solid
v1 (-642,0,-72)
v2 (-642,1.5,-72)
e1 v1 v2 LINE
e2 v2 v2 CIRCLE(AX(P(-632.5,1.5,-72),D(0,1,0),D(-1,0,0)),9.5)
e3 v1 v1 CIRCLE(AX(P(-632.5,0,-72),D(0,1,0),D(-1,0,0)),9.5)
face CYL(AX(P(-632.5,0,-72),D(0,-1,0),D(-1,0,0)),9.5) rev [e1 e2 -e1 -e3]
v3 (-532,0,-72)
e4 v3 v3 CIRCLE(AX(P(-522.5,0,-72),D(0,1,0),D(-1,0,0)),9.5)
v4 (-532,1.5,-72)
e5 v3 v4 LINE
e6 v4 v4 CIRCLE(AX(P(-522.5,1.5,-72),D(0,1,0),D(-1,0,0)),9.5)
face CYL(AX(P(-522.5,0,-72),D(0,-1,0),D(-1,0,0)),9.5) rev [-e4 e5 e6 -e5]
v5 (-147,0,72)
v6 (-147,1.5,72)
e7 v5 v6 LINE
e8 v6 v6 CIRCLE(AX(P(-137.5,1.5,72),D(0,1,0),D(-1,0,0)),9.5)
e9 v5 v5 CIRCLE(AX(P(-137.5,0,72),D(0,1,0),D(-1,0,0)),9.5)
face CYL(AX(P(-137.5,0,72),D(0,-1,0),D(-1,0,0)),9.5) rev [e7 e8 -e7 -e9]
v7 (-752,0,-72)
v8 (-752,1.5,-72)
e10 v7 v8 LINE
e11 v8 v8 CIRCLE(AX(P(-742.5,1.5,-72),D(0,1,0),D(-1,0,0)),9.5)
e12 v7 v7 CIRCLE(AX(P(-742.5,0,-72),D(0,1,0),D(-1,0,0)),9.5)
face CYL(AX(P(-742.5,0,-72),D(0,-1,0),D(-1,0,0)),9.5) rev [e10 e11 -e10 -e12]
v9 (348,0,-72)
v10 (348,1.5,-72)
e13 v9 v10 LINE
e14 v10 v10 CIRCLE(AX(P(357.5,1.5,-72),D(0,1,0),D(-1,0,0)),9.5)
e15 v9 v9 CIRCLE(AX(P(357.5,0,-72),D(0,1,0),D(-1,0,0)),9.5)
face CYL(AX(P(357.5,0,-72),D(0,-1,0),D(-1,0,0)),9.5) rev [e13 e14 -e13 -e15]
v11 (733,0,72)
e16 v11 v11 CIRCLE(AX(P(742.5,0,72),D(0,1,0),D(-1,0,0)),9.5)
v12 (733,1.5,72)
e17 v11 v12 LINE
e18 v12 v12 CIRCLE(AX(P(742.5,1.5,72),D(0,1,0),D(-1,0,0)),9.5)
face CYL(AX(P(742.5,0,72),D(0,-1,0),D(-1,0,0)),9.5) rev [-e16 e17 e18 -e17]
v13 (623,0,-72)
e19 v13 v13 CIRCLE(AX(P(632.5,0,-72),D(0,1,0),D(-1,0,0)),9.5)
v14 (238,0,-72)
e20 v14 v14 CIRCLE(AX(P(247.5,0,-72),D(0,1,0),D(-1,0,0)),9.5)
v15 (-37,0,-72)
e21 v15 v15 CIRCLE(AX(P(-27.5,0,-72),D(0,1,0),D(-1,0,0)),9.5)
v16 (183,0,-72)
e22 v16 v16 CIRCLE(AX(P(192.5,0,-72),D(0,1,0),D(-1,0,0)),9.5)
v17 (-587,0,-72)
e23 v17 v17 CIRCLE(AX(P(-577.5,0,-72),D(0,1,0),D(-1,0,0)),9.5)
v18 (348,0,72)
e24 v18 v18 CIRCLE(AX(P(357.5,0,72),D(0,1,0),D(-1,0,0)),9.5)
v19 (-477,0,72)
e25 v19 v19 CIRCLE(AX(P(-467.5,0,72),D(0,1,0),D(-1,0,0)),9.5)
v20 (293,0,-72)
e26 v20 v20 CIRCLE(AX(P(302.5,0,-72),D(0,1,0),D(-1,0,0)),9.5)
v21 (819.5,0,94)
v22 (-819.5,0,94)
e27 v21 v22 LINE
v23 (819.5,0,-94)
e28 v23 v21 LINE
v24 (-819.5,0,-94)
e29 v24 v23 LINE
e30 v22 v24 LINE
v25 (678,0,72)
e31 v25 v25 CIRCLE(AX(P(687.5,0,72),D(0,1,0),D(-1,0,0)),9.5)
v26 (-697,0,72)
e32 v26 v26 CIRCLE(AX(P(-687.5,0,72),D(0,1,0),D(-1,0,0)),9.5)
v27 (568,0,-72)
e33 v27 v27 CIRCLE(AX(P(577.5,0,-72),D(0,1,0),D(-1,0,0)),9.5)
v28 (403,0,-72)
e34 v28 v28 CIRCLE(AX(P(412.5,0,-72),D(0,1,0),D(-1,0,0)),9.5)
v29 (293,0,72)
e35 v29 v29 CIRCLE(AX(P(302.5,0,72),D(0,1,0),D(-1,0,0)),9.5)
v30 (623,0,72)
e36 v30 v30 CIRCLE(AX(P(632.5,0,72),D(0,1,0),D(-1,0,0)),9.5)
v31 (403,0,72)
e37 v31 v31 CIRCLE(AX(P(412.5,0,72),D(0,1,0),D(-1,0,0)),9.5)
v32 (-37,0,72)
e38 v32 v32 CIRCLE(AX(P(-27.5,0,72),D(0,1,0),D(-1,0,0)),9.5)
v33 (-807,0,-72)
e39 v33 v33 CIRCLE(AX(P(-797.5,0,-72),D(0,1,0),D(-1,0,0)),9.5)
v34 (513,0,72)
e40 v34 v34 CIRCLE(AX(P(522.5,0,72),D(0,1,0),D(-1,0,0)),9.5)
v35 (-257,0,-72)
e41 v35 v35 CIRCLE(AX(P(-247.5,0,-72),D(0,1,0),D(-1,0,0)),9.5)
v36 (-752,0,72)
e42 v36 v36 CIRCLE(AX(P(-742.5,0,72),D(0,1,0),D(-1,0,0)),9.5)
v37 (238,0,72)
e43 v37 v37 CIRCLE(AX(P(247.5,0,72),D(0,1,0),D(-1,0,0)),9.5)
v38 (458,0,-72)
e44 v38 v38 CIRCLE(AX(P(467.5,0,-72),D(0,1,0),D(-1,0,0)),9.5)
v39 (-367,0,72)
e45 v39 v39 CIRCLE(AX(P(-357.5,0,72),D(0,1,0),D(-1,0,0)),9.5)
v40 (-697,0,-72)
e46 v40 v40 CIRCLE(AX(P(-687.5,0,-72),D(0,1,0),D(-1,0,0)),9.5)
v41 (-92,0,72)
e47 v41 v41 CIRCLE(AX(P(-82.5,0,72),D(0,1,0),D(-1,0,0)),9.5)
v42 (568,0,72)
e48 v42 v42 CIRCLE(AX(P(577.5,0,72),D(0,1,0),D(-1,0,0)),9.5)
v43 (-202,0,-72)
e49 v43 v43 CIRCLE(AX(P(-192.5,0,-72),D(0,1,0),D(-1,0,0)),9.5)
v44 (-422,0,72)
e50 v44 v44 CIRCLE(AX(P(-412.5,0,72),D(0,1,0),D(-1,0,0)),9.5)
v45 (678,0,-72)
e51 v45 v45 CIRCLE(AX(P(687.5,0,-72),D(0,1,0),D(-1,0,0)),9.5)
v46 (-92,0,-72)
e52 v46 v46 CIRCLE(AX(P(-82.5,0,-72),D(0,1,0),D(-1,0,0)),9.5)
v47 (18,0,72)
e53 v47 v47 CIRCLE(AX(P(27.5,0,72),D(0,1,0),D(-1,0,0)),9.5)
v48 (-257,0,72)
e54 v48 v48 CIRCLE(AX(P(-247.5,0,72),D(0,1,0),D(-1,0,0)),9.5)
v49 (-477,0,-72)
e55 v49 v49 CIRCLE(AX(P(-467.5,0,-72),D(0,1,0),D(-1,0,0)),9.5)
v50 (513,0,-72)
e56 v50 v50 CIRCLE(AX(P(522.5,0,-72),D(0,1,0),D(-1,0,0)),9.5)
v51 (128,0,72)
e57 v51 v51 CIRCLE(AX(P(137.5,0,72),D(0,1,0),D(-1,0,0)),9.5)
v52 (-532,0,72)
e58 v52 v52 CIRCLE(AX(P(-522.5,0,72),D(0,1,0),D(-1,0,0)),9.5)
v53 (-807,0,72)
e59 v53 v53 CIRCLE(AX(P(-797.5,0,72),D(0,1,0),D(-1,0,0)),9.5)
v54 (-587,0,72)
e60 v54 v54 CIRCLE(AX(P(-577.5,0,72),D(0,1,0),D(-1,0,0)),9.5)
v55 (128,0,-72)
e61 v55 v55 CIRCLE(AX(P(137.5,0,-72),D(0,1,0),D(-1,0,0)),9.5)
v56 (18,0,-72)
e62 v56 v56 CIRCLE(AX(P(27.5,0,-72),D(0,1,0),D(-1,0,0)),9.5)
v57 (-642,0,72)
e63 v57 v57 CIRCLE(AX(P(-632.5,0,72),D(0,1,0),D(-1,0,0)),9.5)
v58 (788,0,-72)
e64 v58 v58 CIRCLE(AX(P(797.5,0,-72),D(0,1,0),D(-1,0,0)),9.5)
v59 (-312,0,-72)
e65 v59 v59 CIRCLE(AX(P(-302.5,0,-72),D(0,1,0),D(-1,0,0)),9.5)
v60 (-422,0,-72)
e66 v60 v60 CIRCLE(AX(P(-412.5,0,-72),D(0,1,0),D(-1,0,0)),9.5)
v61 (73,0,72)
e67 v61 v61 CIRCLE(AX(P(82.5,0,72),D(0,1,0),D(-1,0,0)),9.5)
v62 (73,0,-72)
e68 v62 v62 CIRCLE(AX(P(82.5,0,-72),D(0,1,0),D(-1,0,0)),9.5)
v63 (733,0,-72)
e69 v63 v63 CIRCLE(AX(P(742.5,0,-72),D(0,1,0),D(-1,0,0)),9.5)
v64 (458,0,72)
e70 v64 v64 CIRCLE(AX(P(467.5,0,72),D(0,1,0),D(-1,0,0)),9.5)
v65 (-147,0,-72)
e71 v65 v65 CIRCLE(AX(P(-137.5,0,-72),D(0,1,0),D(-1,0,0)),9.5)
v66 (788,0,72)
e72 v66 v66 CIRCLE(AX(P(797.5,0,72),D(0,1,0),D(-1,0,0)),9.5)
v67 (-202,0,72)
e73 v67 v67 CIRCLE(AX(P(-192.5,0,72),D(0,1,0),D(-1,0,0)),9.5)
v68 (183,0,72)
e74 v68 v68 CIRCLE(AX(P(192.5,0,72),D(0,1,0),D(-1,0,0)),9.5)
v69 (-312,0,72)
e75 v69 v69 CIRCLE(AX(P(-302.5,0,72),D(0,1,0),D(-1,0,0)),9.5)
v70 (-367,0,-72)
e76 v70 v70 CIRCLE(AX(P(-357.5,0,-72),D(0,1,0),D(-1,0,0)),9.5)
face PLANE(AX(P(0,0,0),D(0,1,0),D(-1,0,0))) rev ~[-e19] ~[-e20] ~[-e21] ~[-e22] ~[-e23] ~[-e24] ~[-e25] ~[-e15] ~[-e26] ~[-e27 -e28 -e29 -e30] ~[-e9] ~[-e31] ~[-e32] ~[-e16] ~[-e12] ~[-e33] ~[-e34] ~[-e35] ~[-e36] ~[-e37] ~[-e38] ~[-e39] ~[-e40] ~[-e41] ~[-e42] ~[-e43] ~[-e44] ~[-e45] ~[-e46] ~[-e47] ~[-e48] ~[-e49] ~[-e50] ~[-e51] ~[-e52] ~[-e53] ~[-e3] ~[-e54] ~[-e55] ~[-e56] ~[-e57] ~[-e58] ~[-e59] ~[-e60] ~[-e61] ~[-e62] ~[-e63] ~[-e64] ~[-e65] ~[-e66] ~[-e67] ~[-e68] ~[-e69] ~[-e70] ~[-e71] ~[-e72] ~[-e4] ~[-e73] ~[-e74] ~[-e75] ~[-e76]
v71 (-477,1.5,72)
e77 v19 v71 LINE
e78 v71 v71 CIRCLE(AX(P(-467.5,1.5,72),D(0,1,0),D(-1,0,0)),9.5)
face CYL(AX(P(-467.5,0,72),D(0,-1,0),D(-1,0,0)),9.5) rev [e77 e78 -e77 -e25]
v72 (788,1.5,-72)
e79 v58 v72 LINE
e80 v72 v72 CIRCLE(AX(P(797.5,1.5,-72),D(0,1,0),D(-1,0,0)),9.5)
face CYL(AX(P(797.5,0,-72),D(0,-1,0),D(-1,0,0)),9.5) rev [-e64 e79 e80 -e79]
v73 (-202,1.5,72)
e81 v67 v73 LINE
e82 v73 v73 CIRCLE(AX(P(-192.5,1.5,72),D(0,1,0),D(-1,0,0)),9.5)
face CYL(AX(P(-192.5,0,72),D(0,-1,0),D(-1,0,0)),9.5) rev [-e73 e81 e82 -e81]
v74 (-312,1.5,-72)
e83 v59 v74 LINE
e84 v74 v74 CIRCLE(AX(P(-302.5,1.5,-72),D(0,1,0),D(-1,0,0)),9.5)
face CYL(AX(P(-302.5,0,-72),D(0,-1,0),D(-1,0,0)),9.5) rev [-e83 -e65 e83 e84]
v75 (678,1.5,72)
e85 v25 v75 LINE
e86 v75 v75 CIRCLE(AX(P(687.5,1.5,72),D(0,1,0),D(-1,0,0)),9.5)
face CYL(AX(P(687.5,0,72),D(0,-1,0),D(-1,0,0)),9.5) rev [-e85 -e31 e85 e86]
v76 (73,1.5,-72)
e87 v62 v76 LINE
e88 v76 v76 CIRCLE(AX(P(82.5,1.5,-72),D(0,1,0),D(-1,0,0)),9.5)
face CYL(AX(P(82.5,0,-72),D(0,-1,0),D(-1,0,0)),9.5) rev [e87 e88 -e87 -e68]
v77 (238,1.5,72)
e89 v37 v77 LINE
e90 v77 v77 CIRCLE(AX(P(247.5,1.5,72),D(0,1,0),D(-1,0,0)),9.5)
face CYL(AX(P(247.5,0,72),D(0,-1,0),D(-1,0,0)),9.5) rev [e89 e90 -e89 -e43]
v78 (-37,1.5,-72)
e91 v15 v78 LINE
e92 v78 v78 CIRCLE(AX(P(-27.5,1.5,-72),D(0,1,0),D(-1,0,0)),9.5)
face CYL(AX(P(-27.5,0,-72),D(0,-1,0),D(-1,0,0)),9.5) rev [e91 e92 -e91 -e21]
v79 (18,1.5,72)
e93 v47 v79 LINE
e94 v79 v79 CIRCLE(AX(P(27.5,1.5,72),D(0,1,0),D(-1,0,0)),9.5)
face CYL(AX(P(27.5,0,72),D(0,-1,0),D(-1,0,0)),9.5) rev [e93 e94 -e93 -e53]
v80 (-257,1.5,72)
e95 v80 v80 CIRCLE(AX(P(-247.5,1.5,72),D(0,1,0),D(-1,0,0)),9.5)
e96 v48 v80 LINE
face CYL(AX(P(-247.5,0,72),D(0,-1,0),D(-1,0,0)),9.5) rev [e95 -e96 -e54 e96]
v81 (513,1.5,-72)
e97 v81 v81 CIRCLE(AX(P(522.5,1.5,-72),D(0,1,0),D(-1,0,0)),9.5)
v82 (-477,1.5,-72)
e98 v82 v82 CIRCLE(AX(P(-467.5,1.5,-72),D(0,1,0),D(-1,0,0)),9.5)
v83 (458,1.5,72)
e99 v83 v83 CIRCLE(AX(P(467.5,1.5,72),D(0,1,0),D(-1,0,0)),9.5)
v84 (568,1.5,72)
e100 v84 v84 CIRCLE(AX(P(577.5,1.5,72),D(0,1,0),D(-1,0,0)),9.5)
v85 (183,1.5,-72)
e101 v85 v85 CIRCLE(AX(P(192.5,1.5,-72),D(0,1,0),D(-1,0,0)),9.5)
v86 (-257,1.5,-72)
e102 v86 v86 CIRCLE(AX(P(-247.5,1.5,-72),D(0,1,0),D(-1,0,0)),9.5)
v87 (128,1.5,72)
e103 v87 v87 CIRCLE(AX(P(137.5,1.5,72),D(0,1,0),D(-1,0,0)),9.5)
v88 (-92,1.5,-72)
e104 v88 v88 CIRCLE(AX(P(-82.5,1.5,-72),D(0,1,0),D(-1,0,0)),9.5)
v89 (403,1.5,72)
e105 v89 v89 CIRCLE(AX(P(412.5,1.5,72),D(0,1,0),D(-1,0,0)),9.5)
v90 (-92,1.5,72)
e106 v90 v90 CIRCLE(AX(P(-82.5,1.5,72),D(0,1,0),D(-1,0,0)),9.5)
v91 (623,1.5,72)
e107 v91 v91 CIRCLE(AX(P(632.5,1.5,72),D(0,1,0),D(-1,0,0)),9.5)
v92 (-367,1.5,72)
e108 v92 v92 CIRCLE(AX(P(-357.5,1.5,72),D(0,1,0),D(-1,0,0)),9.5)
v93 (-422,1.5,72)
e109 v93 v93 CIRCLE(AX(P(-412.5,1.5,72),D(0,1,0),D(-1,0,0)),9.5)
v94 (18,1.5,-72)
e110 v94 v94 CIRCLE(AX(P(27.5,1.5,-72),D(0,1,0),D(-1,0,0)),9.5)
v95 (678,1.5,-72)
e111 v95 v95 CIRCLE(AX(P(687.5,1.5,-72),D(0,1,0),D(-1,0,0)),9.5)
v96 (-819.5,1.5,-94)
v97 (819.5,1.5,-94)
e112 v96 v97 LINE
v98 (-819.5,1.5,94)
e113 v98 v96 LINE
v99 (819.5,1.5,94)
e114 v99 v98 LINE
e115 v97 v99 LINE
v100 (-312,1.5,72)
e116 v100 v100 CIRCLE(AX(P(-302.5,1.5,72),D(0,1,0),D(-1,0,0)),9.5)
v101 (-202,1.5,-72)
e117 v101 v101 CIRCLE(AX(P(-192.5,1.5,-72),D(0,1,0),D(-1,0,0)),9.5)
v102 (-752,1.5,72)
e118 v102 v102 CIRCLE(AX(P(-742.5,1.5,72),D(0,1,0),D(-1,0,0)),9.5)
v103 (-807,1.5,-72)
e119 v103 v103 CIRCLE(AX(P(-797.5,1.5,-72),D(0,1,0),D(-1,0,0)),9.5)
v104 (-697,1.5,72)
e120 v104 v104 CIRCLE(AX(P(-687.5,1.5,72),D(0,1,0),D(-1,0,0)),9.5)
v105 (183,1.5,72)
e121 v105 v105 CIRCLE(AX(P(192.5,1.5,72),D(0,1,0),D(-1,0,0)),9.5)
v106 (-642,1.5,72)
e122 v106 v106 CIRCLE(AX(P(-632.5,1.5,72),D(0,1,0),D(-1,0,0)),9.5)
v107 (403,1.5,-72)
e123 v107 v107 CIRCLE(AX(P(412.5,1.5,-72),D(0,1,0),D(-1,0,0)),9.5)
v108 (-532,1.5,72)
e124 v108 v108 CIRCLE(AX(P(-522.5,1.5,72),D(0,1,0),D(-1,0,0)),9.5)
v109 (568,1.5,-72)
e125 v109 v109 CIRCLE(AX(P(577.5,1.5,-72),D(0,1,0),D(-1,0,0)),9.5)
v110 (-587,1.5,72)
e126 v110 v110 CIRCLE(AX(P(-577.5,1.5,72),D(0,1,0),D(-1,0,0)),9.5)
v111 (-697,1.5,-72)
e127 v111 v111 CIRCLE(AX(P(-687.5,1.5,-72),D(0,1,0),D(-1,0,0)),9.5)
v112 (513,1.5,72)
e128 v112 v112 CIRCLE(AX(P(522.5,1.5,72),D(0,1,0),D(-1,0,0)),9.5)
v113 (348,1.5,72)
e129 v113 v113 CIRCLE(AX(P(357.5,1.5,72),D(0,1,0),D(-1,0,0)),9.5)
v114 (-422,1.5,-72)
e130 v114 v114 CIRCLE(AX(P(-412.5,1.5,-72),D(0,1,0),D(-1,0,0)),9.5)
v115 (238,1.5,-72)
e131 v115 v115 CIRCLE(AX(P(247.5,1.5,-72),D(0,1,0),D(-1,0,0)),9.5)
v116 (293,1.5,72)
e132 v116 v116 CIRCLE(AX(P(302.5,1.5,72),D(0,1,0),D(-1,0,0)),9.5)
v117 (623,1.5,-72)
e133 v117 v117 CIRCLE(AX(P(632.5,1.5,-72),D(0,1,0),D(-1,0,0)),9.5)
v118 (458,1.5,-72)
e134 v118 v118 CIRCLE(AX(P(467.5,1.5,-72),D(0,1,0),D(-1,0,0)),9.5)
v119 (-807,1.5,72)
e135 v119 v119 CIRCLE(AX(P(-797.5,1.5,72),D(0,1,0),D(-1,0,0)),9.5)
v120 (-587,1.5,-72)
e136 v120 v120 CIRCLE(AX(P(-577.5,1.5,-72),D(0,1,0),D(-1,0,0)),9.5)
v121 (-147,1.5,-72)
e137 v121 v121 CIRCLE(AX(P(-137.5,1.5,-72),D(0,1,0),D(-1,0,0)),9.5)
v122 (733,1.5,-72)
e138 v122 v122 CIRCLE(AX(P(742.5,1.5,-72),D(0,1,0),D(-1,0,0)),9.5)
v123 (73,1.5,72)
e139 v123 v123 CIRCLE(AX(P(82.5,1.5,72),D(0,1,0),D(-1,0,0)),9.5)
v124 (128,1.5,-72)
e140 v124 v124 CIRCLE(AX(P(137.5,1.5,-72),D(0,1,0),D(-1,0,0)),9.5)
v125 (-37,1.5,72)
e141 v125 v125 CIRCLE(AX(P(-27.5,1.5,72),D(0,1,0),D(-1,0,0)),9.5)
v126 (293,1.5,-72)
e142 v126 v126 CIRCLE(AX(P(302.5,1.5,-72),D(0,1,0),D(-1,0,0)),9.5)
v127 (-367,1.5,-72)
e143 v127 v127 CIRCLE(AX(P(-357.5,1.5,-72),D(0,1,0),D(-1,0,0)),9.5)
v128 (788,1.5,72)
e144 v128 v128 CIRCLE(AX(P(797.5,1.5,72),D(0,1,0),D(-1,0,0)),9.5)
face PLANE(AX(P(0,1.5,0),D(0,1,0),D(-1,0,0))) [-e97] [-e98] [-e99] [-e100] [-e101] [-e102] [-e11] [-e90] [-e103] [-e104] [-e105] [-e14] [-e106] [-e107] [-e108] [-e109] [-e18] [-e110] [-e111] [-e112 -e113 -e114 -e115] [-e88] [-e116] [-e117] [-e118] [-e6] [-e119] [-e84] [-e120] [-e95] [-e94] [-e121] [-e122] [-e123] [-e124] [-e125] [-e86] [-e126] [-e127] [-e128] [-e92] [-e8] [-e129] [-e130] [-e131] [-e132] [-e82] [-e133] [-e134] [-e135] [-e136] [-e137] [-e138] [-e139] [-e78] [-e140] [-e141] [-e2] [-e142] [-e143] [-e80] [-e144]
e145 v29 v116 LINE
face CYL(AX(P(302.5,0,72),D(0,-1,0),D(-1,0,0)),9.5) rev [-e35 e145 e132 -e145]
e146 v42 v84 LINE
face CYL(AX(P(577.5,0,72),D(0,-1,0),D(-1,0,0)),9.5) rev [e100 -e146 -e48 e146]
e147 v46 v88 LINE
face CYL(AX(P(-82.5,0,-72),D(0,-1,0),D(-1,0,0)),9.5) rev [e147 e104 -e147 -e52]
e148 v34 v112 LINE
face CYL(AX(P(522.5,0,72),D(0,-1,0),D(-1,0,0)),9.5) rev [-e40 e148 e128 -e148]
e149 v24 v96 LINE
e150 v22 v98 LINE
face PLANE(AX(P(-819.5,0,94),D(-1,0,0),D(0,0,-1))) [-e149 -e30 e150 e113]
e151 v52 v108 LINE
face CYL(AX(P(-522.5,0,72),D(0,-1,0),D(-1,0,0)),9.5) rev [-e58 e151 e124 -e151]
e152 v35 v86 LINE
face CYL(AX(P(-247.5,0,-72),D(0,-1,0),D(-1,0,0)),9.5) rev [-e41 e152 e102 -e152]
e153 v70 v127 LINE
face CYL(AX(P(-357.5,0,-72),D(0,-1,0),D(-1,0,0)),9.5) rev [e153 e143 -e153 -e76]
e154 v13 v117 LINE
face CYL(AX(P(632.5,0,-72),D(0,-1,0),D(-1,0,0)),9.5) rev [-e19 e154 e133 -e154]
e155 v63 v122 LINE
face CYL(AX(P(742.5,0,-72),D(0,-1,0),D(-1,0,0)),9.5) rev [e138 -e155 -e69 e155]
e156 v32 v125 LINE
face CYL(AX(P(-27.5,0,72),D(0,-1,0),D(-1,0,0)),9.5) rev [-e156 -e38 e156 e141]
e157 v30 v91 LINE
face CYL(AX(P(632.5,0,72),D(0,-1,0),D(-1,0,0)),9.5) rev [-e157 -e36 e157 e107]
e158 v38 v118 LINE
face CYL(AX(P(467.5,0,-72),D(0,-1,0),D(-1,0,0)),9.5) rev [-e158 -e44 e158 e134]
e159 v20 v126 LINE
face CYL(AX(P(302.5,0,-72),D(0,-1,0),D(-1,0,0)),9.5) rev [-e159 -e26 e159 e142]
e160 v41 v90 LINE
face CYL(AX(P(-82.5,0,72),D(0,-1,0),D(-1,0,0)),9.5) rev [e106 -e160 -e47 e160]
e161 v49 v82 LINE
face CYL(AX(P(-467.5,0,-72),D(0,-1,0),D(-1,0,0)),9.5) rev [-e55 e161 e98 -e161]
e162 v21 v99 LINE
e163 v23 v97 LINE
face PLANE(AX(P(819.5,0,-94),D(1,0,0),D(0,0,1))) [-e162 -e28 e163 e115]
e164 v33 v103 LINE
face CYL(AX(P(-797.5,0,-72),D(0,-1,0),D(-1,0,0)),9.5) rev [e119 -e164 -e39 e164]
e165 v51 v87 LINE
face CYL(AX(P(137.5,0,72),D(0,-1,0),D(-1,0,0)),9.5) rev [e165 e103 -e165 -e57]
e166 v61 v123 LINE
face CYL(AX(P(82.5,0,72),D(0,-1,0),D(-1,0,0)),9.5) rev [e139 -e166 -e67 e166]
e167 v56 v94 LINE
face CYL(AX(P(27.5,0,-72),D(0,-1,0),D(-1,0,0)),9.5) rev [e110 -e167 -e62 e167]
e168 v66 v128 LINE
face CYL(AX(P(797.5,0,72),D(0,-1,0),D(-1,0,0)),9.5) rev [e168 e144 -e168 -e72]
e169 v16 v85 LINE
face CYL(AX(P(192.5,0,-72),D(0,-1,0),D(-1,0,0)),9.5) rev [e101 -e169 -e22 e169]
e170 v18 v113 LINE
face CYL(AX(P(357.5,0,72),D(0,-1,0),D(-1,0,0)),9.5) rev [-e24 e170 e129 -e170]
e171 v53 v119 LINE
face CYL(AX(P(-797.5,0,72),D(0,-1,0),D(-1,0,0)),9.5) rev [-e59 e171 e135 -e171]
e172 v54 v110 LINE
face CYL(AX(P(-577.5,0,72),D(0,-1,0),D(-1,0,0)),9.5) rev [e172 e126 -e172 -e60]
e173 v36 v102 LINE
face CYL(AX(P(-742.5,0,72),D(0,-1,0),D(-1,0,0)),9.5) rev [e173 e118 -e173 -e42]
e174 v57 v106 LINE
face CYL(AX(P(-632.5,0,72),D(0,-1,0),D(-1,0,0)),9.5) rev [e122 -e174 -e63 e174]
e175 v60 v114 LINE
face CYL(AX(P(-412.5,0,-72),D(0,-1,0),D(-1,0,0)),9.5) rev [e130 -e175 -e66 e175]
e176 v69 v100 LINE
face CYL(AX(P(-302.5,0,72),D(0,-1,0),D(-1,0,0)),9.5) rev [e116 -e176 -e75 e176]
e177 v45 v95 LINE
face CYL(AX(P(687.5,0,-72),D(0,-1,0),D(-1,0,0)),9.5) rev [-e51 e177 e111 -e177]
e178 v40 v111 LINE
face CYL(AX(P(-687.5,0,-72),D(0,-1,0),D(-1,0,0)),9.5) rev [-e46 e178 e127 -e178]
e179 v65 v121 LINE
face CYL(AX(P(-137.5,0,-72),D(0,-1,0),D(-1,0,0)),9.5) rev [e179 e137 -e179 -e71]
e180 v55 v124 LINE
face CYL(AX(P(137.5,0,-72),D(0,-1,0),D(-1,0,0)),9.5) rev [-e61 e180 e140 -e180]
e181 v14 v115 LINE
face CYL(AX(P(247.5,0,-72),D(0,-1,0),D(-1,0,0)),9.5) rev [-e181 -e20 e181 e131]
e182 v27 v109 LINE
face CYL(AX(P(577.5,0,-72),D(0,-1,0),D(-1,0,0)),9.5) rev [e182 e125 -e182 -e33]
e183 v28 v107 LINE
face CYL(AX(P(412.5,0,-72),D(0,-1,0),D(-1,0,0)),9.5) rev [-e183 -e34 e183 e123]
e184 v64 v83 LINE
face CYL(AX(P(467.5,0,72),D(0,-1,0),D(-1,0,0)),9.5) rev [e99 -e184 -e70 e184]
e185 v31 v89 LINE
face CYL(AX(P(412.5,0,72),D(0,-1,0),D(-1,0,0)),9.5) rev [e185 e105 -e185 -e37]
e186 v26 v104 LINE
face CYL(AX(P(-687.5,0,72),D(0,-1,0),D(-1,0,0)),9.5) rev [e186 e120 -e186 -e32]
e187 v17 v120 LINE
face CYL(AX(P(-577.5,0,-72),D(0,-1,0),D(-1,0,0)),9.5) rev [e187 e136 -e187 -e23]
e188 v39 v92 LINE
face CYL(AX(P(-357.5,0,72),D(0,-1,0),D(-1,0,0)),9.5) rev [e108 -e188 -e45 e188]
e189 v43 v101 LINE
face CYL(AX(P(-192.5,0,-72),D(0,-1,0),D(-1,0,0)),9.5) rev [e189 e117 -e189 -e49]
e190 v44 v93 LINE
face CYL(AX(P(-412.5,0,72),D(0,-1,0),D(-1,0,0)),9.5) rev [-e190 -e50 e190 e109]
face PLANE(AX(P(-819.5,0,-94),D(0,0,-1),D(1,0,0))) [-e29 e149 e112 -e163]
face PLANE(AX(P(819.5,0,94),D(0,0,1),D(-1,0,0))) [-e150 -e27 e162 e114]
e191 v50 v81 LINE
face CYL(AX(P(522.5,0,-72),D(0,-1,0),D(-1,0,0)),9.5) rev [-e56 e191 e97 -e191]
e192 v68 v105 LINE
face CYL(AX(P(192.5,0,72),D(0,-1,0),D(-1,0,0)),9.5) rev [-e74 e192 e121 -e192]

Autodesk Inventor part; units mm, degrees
ref_plane "YZ Plane" through (0, 0, 0) normal (1, 0, 0) x (0, 1, 0)
ref_plane "XZ Plane" through (0, 0, 0) normal (0, 1, 0) x (-1, 0, 0)
ref_plane "XY Plane" through (0, 0, 0) normal (0, 0, 1) x (1, 0, 0)
sketch "Foam Scheme" plane through (0, 0, 0) normal (0, 1, 0) x (-1, 0, 0)
  line L0 (819.5, -94) -> (-819.5, -94)
  line L1 (-819.5, -94) -> (-819.5, 94)
  line L2 (-819.5, 94) -> (819.5, 94)
  line L3 (819.5, 94) -> (819.5, -94)
  circle A0 centre (797.5, -72) radius 9.5
  circle A1 centre (742.5, -72) radius 9.5
  circle A2 centre (687.5, -72) radius 9.5
  circle A3 centre (632.5, -72) radius 9.5
  circle A4 centre (577.5, -72) radius 9.5
  circle A5 centre (522.5, -72) radius 9.5
  circle A6 centre (467.5, -72) radius 9.5
  circle A7 centre (412.5, -72) radius 9.5
  circle A8 centre (357.5, -72) radius 9.5
  circle A9 centre (302.5, -72) radius 9.5
  circle A10 centre (247.5, -72) radius 9.5
  circle A11 centre (192.5, -72) radius 9.5
  circle A12 centre (137.5, -72) radius 9.5
  circle A13 centre (82.5, -72) radius 9.5
  circle A14 centre (27.5, -72) radius 9.5
  circle A15 centre (-27.5, -72) radius 9.5
  circle A16 centre (-82.5, -72) radius 9.5
  circle A17 centre (-137.5, -72) radius 9.5
  circle A18 centre (797.5, 72) radius 9.5
  circle A19 centre (742.5, 72) radius 9.5
  circle A20 centre (687.5, 72) radius 9.5
  circle A21 centre (632.5, 72) radius 9.5
  circle A22 centre (577.5, 72) radius 9.5
  circle A23 centre (522.5, 72) radius 9.5
  circle A24 centre (467.5, 72) radius 9.5
  circle A25 centre (412.5, 72) radius 9.5
  circle A26 centre (357.5, 72) radius 9.5
  circle A27 centre (302.5, 72) radius 9.5
  circle A28 centre (247.5, 72) radius 9.5
  circle A29 centre (192.5, 72) radius 9.5
  circle A30 centre (137.5, 72) radius 9.5
  circle A31 centre (82.5, 72) radius 9.5
  circle A32 centre (27.5, 72) radius 9.5
  circle A33 centre (-27.5, 72) radius 9.5
  circle A34 centre (-82.5, 72) radius 9.5
  circle A35 centre (-137.5, 72) radius 9.5
  circle A36 centre (-192.5, -72) radius 9.5
  circle A37 centre (-192.5, 72) radius 9.5
  circle A38 centre (-247.5, -72) radius 9.5
  circle A39 centre (-247.5, 72) radius 9.5
  circle A40 centre (-302.5, -72) radius 9.5
  circle A41 centre (-302.5, 72) radius 9.5
  circle A42 centre (-357.5, -72) radius 9.5
  circle A43 centre (-357.5, 72) radius 9.5
  circle A44 centre (-412.5, -72) radius 9.5
  circle A45 centre (-412.5, 72) radius 9.5
  circle A46 centre (-467.5, -72) radius 9.5
  circle A47 centre (-467.5, 72) radius 9.5
  circle A48 centre (-522.5, -72) radius 9.5
  circle A49 centre (-522.5, 72) radius 9.5
  circle A50 centre (-577.5, -72) radius 9.5
  circle A51 centre (-577.5, 72) radius 9.5
  circle A52 centre (-632.5, -72) radius 9.5
  circle A53 centre (-632.5, 72) radius 9.5
  circle A54 centre (-687.5, -72) radius 9.5
  circle A55 centre (-687.5, 72) radius 9.5
  circle A56 centre (-742.5, -72) radius 9.5
  circle A57 centre (-742.5, 72) radius 9.5
  circle A58 centre (-797.5, -72) radius 9.5
  circle A59 centre (-797.5, 72) radius 9.5
  point P0 (0, 0)
  dimension "d0" = 1639
  dimension "d1" = 819.5
  dimension "d2" = 188
  dimension "d3" = 94
  dimension "d4" = 19
  dimension "d5" = 22
  dimension "d6" = 22
  dimension "d9" = 55
  dimension "d12" = 144
extrude "Foam Body" add sketch "Foam Scheme" along normal blind 1.5
equation "\"d1\" = 0.5 * d0"
equation "\"d3\" = 0.5 * d2"
properties part number "Foam NPS 16" material "Rubber, Silicone"
